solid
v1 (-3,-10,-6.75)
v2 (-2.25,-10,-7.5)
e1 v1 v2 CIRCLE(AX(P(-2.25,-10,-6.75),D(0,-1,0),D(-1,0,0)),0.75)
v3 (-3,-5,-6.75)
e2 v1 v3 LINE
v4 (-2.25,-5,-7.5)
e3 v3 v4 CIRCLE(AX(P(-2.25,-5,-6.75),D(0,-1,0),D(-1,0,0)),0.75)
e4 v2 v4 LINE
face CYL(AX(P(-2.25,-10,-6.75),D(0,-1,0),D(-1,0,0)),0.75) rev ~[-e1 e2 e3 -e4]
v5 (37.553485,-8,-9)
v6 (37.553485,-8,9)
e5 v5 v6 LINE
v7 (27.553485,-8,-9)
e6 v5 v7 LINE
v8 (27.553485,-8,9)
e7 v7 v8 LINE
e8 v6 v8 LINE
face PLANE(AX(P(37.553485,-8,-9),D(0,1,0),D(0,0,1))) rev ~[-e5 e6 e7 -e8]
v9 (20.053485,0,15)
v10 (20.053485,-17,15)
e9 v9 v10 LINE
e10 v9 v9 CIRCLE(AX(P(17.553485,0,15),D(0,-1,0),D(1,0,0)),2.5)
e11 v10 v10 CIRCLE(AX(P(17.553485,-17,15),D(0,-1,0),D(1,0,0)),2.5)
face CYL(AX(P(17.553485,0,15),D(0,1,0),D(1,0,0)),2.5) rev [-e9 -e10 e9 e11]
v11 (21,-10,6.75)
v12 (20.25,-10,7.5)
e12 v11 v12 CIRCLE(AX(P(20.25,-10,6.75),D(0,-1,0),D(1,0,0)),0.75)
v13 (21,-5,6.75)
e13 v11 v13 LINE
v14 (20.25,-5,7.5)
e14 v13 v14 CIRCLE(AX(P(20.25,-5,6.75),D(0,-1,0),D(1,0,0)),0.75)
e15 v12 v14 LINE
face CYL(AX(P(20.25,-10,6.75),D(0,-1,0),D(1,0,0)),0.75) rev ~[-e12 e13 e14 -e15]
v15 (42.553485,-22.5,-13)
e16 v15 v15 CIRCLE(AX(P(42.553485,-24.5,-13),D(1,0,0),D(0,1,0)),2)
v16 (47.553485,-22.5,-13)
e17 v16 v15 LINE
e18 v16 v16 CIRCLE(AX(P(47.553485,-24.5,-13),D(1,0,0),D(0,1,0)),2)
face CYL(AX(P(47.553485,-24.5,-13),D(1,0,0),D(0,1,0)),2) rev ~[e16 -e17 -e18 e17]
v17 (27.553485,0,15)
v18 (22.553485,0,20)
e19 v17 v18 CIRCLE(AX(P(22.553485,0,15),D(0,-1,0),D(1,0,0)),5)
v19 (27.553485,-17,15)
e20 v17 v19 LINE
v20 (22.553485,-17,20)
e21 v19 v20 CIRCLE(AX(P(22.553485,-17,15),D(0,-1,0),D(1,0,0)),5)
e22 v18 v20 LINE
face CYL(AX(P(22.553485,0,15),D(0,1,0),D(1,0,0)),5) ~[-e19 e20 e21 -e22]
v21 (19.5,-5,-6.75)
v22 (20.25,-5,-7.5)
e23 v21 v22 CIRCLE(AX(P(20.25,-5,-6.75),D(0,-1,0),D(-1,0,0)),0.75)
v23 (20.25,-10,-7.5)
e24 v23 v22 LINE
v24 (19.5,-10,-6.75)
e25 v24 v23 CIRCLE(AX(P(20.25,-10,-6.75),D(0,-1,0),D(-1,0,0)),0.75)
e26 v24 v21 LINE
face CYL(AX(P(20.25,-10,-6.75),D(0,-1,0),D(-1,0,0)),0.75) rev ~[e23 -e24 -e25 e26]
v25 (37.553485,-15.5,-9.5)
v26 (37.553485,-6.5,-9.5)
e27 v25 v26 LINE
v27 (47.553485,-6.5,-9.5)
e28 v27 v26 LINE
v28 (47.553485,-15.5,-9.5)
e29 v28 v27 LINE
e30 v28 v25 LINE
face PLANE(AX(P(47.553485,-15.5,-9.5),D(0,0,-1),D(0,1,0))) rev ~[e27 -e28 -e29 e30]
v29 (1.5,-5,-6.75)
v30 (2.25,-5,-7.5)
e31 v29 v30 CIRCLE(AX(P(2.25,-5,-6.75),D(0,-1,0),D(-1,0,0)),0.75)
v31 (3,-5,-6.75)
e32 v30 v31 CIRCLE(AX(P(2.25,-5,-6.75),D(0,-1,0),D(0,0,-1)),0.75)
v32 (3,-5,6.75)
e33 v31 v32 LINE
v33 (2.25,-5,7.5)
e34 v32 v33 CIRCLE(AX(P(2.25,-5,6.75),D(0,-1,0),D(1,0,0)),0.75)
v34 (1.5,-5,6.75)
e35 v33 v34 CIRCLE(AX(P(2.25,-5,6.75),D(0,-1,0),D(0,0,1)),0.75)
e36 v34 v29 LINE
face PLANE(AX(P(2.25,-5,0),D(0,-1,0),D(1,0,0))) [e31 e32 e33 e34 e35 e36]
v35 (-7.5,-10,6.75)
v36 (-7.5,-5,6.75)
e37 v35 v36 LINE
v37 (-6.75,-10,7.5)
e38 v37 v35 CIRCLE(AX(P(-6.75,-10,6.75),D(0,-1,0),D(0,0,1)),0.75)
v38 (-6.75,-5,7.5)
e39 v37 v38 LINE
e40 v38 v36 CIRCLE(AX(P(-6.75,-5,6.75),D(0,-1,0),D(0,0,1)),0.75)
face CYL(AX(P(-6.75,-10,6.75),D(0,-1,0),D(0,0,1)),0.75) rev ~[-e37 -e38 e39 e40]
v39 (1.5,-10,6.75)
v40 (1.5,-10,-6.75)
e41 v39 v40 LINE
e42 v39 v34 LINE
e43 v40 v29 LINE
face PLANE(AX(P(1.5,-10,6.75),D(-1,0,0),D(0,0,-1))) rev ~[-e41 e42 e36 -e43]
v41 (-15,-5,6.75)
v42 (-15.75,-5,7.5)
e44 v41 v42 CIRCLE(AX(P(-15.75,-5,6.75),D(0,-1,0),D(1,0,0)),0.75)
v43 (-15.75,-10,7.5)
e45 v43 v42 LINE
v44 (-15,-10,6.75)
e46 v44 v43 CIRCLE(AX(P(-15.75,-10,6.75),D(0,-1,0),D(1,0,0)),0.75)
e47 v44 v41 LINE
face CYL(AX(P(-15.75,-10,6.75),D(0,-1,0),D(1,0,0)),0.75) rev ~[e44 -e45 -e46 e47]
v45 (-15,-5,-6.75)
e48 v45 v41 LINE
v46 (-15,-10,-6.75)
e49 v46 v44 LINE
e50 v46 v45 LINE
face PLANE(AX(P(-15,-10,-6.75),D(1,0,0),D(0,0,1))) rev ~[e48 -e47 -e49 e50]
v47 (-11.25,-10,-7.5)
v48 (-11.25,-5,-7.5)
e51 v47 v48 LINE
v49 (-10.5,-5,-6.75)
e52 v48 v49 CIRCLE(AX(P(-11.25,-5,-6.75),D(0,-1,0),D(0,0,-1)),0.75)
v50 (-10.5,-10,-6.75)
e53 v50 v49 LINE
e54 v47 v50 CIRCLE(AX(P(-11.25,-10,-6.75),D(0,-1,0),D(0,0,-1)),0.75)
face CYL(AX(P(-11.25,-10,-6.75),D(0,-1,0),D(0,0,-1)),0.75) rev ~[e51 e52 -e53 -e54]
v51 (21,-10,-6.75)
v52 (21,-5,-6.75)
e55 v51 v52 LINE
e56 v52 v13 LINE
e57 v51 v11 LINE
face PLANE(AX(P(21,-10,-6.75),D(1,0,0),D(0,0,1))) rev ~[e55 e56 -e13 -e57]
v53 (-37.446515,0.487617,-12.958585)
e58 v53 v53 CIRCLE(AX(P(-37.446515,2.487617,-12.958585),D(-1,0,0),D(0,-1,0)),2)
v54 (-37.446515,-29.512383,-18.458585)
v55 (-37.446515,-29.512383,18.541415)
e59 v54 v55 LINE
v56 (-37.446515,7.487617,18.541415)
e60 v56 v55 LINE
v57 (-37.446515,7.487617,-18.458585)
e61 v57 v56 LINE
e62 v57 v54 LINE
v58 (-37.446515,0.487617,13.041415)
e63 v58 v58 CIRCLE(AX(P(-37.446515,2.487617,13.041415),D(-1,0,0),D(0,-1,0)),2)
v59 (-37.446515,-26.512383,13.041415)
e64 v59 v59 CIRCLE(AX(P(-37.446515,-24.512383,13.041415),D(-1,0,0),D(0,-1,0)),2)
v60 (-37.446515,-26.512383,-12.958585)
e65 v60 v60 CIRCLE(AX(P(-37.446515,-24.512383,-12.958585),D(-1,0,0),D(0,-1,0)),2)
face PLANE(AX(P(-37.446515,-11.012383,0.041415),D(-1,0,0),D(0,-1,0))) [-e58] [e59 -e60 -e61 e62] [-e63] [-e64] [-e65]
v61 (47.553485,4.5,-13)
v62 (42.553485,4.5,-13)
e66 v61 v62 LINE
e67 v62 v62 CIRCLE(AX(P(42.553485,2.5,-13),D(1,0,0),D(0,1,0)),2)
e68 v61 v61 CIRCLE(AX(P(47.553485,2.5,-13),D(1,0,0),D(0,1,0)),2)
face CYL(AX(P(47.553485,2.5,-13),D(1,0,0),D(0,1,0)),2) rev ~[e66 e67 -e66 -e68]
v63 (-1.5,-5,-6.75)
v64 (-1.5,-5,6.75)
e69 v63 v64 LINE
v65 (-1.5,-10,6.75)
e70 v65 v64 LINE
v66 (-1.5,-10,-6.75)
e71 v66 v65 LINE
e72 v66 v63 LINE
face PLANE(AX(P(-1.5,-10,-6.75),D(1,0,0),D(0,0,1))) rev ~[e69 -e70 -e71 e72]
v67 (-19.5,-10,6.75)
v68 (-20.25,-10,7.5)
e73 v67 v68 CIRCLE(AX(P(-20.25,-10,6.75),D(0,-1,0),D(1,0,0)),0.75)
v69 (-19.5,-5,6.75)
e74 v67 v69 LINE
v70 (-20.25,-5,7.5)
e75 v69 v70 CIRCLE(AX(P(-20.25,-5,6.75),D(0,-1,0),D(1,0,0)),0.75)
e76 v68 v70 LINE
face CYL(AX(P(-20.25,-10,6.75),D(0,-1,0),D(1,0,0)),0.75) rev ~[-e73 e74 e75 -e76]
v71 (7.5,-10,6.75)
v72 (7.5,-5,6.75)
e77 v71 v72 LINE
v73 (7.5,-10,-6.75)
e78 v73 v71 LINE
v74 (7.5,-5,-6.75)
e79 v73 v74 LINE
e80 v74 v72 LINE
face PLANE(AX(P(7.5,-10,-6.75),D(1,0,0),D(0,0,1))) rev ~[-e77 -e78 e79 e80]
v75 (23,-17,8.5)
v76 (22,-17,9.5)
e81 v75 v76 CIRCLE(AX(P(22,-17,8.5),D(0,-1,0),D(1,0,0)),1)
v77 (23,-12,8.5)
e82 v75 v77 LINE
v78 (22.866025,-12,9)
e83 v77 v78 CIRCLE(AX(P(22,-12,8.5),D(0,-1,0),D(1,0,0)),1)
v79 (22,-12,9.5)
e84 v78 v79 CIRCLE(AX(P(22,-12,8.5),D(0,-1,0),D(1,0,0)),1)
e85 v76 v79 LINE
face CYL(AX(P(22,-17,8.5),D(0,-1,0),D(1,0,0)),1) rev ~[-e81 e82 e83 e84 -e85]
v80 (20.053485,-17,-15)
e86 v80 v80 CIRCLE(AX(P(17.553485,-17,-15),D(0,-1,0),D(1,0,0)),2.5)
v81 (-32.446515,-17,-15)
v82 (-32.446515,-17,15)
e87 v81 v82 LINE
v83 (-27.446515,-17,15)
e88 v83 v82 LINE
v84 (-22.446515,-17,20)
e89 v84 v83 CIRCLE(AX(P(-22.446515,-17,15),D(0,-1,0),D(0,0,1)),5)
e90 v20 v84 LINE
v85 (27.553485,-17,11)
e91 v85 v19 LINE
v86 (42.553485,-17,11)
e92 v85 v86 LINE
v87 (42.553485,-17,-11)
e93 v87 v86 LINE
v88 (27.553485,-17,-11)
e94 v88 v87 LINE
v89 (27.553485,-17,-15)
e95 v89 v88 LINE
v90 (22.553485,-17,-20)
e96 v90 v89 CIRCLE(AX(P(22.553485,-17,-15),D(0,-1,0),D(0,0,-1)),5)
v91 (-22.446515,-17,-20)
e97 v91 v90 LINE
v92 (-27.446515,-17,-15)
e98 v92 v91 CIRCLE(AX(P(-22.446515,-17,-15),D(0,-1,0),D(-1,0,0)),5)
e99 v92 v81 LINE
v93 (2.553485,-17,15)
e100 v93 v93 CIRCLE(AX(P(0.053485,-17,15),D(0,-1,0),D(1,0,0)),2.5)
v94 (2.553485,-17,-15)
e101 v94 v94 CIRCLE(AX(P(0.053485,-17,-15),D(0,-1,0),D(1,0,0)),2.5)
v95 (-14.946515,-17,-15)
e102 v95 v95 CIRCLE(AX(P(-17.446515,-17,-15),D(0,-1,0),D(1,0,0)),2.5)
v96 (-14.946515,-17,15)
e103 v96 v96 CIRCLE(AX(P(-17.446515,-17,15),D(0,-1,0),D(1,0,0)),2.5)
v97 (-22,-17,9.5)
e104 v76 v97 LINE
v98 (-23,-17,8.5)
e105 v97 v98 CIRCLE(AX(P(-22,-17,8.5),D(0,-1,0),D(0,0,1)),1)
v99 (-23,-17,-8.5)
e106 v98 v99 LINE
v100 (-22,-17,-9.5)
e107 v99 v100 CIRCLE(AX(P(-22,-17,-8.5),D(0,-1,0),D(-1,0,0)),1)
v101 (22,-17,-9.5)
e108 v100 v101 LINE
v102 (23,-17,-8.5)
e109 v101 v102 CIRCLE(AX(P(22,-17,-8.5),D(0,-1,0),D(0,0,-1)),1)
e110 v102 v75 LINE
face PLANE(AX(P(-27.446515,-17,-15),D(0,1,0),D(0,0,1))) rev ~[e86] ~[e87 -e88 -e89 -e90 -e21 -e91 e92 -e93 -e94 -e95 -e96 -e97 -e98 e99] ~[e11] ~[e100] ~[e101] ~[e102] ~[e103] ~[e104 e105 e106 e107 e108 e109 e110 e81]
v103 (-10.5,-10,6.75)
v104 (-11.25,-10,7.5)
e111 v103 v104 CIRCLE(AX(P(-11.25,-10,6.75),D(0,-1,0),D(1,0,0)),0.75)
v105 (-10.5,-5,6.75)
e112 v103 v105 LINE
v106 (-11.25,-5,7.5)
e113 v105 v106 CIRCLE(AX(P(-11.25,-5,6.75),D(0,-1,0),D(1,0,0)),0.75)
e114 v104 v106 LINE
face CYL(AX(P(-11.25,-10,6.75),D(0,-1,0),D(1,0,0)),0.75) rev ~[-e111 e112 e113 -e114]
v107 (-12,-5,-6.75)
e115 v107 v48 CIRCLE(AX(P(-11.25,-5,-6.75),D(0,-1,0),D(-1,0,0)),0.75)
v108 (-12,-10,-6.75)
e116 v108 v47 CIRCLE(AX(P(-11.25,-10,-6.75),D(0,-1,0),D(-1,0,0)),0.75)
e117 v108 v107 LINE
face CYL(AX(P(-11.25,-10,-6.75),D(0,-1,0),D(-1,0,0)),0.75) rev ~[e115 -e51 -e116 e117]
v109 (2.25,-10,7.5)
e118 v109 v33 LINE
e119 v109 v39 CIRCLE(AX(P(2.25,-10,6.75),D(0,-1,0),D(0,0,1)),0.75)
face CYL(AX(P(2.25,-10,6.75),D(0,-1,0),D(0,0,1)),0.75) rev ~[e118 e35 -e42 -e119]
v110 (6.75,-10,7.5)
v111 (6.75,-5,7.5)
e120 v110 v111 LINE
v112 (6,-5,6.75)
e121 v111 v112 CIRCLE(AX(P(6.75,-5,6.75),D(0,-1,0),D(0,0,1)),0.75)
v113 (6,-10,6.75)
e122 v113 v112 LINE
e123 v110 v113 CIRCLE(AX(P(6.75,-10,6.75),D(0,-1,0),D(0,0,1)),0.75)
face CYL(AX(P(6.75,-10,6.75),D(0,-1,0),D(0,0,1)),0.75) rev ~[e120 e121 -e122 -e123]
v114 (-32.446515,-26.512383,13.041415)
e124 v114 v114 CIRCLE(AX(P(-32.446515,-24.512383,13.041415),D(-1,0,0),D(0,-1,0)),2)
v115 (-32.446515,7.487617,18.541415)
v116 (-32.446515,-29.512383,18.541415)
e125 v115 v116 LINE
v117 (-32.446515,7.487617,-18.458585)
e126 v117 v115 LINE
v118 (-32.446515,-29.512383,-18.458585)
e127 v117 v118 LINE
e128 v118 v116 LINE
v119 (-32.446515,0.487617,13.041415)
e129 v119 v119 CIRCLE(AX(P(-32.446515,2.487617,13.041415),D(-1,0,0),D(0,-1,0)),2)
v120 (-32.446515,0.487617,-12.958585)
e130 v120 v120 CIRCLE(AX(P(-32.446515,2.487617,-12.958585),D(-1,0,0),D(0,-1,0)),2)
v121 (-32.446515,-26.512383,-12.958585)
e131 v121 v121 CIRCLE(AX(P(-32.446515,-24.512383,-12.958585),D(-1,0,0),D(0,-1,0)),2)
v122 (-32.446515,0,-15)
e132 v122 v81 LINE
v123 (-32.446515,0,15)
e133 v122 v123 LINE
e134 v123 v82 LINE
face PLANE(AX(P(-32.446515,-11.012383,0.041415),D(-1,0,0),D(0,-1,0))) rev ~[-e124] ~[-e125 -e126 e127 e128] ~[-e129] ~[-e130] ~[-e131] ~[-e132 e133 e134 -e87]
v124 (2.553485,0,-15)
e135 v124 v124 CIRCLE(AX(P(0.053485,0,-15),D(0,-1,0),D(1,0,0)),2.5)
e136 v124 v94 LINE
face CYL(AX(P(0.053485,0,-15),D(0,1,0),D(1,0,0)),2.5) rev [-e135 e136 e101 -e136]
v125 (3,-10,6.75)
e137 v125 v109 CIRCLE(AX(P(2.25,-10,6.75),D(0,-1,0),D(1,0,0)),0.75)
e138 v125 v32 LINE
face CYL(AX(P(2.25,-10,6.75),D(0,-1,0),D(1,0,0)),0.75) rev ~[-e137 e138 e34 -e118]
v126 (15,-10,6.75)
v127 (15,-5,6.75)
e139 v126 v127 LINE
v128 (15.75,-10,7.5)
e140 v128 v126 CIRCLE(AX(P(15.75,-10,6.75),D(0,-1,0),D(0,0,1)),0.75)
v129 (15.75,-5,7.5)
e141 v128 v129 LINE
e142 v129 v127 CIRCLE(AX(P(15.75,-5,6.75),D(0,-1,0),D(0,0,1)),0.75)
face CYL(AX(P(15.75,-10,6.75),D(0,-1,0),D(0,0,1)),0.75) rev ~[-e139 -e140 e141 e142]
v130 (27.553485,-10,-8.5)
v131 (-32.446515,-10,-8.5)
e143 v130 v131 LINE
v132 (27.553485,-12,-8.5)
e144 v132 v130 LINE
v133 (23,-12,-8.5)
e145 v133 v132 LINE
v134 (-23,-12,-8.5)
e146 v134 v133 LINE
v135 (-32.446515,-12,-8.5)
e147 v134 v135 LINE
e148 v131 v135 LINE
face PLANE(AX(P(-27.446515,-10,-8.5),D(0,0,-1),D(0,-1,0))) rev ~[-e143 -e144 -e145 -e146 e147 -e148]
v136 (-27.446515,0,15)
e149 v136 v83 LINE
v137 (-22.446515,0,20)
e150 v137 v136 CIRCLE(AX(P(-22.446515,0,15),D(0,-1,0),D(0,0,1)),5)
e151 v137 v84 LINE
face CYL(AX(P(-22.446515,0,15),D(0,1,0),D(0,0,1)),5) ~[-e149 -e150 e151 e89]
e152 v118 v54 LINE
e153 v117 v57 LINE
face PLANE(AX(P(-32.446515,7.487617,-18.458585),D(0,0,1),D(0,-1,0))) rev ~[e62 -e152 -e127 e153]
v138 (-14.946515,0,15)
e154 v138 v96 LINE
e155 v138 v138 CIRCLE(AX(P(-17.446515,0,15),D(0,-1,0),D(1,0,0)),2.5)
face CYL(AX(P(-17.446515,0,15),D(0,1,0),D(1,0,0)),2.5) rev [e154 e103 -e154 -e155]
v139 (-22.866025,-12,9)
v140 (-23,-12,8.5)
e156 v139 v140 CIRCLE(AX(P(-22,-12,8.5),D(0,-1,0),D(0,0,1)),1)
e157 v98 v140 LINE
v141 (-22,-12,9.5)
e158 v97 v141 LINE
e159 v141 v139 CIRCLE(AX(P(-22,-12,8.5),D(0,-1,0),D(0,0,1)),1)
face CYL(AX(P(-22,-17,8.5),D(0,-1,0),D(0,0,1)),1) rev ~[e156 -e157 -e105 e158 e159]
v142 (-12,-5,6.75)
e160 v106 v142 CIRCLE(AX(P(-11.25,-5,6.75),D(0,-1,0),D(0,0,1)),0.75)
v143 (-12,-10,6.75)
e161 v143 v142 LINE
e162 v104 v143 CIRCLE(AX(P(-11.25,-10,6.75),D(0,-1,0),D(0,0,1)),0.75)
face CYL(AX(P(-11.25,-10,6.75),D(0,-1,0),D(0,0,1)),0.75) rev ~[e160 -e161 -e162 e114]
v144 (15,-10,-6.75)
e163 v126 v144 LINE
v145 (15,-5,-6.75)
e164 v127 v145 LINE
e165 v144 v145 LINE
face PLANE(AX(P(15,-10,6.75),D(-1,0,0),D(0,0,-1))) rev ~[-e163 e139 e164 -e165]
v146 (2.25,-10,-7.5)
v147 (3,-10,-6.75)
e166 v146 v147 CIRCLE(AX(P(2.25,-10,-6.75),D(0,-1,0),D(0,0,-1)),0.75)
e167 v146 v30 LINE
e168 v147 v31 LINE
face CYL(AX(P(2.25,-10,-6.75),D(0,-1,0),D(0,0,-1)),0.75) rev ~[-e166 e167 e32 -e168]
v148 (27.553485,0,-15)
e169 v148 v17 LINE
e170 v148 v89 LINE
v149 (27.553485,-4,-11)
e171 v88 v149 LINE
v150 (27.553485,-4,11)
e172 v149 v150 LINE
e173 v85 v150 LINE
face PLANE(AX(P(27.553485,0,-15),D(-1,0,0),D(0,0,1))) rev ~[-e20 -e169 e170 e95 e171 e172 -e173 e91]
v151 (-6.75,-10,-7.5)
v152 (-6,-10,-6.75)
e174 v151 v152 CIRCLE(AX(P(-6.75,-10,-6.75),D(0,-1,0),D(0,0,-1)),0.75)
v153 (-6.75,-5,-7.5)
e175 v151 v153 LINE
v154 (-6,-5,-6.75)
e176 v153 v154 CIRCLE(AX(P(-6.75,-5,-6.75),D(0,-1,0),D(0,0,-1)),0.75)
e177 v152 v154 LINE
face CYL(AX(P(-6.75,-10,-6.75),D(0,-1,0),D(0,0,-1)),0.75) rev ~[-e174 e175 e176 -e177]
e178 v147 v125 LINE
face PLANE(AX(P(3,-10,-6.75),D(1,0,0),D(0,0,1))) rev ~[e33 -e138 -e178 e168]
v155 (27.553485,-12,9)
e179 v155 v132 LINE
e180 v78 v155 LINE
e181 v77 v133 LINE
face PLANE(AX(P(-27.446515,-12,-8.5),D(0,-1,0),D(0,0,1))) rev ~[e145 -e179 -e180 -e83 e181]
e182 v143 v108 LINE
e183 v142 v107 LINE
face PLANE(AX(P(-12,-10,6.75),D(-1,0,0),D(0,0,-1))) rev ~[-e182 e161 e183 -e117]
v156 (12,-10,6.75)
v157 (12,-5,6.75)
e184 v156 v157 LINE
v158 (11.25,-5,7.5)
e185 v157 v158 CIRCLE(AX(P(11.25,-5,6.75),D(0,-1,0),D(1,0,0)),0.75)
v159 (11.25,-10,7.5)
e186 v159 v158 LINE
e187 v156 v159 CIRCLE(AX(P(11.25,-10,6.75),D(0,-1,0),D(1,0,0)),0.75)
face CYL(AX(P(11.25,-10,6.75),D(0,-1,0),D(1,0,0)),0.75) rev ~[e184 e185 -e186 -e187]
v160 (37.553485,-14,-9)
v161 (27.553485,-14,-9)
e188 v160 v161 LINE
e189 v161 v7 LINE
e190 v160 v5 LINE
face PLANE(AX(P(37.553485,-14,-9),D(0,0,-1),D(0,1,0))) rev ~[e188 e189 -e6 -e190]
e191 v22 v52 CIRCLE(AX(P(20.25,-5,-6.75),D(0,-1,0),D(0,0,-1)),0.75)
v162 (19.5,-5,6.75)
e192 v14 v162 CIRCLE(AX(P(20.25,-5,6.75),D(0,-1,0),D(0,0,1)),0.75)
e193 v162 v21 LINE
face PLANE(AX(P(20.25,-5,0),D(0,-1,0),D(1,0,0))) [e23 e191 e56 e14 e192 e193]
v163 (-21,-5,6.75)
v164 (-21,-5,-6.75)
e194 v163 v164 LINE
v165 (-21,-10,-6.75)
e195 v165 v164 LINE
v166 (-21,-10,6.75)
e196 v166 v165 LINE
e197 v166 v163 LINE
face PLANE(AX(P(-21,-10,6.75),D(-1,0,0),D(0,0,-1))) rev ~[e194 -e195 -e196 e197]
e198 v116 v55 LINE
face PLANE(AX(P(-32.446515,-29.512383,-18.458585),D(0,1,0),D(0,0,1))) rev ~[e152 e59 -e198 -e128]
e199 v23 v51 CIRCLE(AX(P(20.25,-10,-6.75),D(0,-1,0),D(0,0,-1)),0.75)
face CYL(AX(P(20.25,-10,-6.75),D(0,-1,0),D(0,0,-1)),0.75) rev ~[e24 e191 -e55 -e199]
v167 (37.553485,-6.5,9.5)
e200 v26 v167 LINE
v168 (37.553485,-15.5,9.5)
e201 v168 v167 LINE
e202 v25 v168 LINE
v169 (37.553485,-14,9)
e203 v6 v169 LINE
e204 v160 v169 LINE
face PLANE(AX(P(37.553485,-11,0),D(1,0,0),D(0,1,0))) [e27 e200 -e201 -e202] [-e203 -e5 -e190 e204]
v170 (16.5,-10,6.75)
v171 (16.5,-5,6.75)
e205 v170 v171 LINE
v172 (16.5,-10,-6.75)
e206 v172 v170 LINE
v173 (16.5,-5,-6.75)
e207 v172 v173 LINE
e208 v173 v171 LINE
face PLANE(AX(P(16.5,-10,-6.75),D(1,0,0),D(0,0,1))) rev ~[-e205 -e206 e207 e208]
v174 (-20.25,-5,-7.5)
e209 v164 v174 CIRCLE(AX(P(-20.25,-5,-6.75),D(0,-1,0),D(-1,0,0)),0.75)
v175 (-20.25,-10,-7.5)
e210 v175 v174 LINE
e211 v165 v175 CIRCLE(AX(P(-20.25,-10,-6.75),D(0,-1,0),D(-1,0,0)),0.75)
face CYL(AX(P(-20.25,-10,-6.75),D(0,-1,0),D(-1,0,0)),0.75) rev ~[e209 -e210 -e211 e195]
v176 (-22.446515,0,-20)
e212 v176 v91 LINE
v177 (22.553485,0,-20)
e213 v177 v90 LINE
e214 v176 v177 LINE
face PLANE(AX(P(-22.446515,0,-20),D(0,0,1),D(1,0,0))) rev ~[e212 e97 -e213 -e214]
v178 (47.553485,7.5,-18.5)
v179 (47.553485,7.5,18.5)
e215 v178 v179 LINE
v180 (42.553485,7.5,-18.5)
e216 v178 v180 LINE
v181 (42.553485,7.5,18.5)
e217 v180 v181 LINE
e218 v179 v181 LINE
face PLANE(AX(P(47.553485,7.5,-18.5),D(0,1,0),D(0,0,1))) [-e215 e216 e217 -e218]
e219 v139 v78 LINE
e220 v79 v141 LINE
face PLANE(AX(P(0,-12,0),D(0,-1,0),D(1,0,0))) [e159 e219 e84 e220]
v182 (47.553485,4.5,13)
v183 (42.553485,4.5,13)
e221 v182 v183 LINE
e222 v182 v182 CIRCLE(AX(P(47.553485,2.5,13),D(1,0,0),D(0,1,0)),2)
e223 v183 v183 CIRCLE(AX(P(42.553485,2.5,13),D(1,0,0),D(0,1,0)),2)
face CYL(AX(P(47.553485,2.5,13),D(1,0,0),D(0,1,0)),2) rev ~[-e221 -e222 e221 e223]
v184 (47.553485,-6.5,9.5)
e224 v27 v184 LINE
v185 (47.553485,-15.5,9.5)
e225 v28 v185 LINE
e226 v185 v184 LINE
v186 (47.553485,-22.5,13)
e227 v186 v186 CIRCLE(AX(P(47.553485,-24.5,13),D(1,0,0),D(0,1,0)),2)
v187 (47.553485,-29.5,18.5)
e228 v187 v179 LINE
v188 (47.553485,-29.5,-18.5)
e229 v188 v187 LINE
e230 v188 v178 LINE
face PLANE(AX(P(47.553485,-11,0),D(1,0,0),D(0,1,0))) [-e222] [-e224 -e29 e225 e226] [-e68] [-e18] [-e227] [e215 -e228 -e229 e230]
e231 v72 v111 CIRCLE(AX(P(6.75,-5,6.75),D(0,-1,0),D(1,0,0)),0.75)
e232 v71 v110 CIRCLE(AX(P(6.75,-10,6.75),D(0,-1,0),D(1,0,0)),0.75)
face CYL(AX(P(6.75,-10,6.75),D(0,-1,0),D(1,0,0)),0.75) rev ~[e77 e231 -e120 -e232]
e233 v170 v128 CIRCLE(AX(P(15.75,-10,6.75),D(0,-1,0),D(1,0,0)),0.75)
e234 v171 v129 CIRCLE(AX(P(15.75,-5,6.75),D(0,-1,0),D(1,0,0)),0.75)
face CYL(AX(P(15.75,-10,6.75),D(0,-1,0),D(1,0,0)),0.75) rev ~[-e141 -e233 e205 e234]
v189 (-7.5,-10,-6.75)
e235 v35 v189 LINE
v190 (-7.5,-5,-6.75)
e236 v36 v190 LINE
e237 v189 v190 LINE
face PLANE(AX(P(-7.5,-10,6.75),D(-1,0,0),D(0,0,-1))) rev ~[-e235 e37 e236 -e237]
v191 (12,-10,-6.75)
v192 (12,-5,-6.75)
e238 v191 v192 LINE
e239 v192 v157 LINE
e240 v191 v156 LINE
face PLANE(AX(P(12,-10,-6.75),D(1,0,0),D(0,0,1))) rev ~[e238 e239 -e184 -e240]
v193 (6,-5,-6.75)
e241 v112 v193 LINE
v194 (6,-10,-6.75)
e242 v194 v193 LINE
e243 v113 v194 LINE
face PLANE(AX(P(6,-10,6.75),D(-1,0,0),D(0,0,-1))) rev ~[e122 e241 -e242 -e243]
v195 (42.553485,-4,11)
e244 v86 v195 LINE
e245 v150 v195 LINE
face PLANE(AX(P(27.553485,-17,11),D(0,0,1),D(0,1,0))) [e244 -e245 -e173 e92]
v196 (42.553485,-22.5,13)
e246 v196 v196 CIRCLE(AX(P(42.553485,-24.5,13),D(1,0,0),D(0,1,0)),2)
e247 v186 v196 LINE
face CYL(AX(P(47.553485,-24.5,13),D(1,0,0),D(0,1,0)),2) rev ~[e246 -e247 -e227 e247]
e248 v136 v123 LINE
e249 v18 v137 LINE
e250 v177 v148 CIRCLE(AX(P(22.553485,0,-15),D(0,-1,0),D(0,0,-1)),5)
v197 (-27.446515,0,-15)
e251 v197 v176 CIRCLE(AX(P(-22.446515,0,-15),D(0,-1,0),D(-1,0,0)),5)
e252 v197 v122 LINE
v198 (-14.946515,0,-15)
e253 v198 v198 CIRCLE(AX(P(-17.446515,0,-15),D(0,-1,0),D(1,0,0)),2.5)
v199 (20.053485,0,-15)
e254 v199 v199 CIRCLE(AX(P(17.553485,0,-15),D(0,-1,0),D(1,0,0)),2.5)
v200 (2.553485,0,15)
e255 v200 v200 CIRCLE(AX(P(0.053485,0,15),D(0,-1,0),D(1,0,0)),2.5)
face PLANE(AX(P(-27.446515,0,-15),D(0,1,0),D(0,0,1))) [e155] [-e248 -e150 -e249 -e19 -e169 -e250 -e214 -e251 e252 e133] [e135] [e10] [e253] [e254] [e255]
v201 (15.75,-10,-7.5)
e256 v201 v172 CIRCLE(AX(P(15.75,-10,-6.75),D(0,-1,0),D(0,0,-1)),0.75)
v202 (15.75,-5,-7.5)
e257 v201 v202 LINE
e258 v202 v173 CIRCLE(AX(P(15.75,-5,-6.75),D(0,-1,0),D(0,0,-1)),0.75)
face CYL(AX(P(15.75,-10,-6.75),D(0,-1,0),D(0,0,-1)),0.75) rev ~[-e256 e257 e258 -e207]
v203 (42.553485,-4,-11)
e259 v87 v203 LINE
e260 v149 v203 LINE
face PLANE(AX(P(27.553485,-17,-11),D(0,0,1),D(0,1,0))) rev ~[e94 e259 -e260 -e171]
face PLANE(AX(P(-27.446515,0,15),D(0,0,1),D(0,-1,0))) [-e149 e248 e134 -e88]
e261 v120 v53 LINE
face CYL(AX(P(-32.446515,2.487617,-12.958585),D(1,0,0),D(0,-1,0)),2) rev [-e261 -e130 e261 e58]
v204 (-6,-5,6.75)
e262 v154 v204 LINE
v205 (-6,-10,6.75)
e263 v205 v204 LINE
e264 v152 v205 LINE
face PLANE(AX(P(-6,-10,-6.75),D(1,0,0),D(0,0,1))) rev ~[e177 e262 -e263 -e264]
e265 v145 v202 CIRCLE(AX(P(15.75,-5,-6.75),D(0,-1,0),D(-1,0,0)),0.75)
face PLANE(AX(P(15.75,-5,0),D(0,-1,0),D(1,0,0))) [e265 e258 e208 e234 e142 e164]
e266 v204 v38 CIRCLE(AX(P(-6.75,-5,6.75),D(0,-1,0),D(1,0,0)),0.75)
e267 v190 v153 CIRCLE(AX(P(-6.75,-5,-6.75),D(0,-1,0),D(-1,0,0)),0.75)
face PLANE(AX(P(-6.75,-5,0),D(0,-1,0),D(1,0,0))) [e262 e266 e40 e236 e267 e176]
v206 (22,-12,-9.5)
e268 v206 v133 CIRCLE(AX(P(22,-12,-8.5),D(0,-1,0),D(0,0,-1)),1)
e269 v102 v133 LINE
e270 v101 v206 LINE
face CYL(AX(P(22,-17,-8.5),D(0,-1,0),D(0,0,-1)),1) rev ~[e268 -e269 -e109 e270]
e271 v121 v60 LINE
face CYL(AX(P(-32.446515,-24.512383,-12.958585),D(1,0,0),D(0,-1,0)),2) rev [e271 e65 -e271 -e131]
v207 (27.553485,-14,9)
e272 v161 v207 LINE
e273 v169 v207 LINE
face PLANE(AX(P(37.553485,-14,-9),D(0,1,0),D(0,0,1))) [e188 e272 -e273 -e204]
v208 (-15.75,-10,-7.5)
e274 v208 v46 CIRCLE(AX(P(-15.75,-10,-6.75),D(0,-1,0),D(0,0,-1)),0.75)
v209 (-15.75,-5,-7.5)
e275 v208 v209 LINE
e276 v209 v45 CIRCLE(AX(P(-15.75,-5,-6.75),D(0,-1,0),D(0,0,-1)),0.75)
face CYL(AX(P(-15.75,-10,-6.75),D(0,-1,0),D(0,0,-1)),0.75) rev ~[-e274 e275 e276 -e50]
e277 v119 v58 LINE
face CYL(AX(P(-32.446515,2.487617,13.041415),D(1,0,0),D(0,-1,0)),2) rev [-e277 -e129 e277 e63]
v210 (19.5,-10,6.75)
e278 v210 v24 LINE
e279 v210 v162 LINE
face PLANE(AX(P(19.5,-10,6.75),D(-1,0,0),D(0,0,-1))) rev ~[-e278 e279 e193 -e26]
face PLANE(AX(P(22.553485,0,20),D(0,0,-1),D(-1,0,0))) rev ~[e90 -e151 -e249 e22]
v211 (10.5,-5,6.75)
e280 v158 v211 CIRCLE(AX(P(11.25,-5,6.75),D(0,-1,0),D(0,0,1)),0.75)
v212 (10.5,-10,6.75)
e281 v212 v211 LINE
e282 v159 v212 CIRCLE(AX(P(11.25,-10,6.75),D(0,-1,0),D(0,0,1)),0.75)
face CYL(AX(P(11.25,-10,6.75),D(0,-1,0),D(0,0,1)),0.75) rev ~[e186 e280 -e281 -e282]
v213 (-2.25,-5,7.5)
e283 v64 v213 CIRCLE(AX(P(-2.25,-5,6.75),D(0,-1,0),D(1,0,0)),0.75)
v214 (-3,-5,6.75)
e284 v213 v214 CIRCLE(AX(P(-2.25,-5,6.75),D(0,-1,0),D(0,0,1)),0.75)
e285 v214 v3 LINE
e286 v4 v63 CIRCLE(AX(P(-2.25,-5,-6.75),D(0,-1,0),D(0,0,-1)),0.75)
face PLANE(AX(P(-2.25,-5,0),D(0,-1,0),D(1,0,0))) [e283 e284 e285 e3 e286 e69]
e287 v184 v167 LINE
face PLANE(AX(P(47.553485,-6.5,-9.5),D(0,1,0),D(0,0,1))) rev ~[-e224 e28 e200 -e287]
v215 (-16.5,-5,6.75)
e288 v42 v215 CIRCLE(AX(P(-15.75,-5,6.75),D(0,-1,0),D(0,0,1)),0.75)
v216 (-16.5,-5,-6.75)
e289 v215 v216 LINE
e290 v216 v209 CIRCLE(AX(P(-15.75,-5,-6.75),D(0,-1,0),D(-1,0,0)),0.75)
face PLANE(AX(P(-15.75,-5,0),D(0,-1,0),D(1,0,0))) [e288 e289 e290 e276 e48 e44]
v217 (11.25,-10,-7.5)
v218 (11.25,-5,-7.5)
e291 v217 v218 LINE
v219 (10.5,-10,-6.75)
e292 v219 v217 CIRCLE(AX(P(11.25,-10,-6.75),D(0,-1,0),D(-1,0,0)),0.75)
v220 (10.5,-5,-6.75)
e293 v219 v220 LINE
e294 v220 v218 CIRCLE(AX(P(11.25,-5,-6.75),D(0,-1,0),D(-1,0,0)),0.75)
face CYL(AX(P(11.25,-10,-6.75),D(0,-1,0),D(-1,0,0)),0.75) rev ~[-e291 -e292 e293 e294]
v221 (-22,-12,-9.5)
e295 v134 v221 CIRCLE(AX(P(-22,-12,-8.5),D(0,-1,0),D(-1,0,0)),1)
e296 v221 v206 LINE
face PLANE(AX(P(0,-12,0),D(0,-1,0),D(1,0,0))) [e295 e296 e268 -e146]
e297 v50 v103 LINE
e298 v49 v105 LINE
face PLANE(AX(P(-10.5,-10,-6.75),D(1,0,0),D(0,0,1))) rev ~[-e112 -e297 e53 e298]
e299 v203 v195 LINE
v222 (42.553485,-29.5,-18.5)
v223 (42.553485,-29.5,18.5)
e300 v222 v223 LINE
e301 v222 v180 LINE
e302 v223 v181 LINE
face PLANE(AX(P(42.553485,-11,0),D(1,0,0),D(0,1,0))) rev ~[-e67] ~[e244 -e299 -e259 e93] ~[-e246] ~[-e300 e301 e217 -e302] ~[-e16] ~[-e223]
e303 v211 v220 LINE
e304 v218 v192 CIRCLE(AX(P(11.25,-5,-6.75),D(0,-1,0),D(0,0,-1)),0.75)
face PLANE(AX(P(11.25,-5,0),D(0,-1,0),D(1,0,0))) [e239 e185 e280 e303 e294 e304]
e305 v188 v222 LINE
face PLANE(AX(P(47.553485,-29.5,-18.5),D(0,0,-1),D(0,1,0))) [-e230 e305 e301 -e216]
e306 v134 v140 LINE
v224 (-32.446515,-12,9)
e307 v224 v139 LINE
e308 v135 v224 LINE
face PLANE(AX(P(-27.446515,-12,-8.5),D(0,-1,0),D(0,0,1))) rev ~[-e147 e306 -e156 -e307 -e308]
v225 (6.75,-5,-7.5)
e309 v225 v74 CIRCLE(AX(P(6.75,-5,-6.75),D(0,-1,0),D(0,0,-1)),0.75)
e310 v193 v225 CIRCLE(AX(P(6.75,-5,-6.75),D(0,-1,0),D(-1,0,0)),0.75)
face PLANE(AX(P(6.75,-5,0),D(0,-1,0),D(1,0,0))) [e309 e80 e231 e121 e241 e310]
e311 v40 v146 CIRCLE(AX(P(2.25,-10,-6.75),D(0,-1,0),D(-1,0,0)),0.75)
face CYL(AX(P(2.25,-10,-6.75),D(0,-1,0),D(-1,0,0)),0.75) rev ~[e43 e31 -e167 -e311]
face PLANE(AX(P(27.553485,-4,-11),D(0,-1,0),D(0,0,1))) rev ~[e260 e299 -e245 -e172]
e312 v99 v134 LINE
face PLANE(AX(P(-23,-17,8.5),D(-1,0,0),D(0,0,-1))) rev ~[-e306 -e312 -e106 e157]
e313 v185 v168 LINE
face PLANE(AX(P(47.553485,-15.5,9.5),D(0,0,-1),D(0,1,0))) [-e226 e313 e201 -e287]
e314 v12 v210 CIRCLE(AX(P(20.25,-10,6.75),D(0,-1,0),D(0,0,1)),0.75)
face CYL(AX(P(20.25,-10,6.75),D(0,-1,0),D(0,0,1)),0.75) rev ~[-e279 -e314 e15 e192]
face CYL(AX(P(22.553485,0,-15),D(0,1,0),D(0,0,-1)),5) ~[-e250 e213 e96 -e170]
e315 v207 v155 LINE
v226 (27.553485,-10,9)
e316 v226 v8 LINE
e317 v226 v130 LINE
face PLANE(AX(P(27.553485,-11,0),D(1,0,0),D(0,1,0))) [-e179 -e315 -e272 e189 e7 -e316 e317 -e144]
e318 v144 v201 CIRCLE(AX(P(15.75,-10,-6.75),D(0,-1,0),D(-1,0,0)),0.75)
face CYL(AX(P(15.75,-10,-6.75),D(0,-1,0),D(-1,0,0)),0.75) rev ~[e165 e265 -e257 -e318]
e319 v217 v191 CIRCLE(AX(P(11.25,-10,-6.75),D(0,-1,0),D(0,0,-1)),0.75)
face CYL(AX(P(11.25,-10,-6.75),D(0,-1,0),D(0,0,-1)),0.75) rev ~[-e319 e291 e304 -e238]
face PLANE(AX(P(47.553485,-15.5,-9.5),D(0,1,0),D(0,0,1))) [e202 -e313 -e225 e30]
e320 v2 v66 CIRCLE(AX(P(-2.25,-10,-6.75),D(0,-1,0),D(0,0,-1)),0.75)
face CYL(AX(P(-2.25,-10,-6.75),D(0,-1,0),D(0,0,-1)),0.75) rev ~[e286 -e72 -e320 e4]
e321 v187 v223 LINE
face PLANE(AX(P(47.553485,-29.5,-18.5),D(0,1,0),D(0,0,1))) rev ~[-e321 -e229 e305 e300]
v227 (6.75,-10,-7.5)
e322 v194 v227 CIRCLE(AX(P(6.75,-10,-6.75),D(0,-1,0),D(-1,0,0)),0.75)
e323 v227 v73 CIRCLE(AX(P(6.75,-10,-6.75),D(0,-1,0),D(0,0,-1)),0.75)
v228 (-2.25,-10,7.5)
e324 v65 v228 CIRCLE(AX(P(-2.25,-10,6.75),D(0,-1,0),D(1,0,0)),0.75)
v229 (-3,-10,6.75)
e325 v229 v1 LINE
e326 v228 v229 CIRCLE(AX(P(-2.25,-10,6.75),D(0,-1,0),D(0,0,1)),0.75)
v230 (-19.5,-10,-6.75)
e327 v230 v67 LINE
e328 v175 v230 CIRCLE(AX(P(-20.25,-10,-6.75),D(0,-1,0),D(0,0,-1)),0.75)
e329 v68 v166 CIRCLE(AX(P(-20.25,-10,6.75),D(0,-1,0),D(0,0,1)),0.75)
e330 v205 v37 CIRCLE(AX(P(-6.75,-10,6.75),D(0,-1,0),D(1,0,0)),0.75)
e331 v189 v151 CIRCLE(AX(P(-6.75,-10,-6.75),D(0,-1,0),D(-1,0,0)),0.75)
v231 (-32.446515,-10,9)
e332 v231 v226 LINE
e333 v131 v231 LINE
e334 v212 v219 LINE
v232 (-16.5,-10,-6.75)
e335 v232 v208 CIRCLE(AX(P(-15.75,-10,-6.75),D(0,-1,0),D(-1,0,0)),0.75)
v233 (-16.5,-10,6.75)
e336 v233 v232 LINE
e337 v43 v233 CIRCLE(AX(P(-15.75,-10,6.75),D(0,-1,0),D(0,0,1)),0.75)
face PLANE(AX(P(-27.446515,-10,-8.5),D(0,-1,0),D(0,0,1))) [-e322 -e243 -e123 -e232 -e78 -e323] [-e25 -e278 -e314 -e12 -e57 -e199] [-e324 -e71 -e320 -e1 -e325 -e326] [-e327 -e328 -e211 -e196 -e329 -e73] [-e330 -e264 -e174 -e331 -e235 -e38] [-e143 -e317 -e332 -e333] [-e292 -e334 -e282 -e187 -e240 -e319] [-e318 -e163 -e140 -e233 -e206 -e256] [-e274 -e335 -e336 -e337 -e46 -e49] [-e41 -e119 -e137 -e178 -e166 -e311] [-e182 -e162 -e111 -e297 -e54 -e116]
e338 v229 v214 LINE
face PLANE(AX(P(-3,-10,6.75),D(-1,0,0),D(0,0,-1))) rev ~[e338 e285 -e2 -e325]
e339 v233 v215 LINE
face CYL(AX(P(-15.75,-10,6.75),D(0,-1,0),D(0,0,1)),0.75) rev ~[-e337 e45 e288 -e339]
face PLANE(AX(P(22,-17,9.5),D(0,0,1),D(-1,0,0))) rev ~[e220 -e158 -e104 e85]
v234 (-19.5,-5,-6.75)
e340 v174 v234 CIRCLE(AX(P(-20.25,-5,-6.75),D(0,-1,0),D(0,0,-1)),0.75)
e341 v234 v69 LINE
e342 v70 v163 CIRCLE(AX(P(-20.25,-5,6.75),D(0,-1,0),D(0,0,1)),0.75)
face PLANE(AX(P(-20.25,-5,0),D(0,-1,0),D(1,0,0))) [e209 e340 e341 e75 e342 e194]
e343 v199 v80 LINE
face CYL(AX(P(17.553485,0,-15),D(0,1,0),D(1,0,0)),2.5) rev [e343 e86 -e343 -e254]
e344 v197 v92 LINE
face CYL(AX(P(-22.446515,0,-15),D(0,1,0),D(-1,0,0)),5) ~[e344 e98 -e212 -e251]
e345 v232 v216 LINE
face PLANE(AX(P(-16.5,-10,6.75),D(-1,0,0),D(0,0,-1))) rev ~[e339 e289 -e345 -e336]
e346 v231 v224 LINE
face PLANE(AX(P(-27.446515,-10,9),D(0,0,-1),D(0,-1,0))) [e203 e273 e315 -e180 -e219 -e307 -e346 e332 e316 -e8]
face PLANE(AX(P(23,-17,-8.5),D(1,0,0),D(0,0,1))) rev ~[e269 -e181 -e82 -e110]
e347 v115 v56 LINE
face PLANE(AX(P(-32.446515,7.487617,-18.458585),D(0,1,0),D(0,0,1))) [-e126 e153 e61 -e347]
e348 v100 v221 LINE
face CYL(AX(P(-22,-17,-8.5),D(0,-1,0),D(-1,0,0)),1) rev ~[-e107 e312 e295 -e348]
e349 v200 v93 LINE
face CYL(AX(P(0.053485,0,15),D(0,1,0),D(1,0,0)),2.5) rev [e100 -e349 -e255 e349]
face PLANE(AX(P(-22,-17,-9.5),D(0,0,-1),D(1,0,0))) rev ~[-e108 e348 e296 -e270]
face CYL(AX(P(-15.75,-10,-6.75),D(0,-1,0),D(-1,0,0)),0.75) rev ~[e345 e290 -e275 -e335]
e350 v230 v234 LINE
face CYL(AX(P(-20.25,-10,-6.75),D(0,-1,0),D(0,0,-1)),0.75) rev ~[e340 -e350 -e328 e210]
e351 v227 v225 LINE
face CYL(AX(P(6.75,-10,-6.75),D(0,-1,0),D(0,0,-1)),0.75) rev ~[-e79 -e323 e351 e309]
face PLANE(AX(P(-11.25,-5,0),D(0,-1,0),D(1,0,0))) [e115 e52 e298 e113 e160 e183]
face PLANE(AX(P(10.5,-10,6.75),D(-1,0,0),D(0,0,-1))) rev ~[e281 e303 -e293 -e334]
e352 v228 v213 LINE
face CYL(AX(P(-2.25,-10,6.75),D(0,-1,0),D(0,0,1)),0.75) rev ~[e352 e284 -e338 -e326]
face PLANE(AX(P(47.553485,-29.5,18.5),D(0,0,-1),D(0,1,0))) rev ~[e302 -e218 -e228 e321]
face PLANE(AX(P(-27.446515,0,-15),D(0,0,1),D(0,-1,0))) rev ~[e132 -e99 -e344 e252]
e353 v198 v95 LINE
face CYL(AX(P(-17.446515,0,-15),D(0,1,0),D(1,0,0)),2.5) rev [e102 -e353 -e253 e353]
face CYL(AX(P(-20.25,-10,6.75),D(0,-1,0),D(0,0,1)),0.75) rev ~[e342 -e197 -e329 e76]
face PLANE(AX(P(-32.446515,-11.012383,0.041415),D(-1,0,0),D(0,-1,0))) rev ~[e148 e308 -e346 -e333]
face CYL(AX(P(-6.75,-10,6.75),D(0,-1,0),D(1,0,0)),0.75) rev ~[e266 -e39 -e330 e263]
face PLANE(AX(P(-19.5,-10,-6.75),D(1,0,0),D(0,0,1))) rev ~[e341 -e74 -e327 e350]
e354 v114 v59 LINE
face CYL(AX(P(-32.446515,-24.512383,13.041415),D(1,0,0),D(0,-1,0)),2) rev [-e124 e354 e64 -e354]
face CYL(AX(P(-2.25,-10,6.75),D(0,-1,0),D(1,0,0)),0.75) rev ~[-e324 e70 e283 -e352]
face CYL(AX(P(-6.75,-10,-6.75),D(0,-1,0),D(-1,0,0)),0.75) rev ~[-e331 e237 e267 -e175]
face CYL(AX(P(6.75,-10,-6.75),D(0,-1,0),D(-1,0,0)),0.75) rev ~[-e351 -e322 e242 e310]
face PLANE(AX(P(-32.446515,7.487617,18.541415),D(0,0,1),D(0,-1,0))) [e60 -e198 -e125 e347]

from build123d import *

# Parameters (mm, degrees)
F0_R      = 2.5
F1_DEPTH  = 17
F3_DEPTH  = 5
F4_W      = 46
F4_H      = 17
F5_DEPTH  = 2
F7_DEPTH  = 5
F9_W      = 13
F9_H      = 22
F10_DEPTH = 20
F11_W     = 37
F11_H     = 37
F11_R     = 2
F11_W_2   = 13
F11_H_2   = 22
F12_DEPTH = 5
F13_W     = 9
F13_H     = 19
F14_DEPTH = 10
F15_W     = 6
F15_H     = 18
F16_DEPTH = 10
F8_W      = 17
F8_H      = 30
F8_W_2    = 2
F8_H_2    = 17.5
F17_DEPTH = 5
F18_W     = 37
F18_H     = 37
F18_R     = 2
F19_DEPTH = 5
F20_DEPTH = 75.001


with BuildPart() as f1:
    # F0 (on Front) → F1 (new body)
    with BuildSketch(Plane.XZ):
        with BuildLine():
            Line((-22.4465147161, -20), (22.5534852839, -20))
            ThreePointArc((22.5534852839, -20), (26.0890191899, -18.5355339059), (27.5534852839, -15))
            Line((27.5534852839, -15), (27.5534852839, 15))
            ThreePointArc((27.5534852839, 15), (26.0890191899, 18.5355339059), (22.5534852839, 20))
            Line((22.5534852839, 20), (-22.4465147161, 20))
            ThreePointArc((-22.4465147161, 20), (-25.982048622, 18.5355339059), (-27.4465147161, 15))
            Line((-27.4465147161, 15), (-27.4465147161, -15))
            ThreePointArc((-27.4465147161, -15), (-25.982048622, -18.5355339059), (-22.4465147161, -20))
        make_face()
        with Locations((-17.4465147161, -15)):
            Circle(F0_R, mode=Mode.SUBTRACT)
        with Locations((0.0534852839, -15)):
            Circle(F0_R, mode=Mode.SUBTRACT)
        with Locations((17.5534852839, -15)):
            Circle(F0_R, mode=Mode.SUBTRACT)
        with Locations((-17.4465147161, 15)):
            Circle(F0_R, mode=Mode.SUBTRACT)
        with Locations((0.0534852839, 15)):
            Circle(F0_R, mode=Mode.SUBTRACT)
        with Locations((17.5534852839, 15)):
            Circle(F0_R, mode=Mode.SUBTRACT)
    extrude(amount=F1_DEPTH)

    # F2 (on face) → F3 (cut)
    with BuildSketch(Plane.XZ.offset(17)):
        with BuildLine():
            Line((22, 9.5), (-22, 9.5))
            ThreePointArc((-22, 9.5), (-22.7071067812, 9.2071067812), (-23, 8.5))
            Line((-23, 8.5), (-23, -8.5))
            ThreePointArc((-23, -8.5), (-22.7071067812, -9.2071067812), (-22, -9.5))
            Line((-22, -9.5), (22, -9.5))
            ThreePointArc((22, -9.5), (22.7071067812, -9.2071067812), (23, -8.5))
            Line((23, -8.5), (23, 8.5))
            ThreePointArc((23, 8.5), (22.7071067812, 9.2071067812), (22, 9.5))
        make_face()
    extrude(amount=-F3_DEPTH, mode=Mode.SUBTRACT)

    # F4 (on face) → F5 (cut)
    with BuildSketch(Plane.XZ.offset(12)):
        Rectangle(F4_W, F4_H)
    extrude(amount=-F5_DEPTH, mode=Mode.SUBTRACT)

    # F6 (on face) → F7 (cut)
    with BuildSketch(Plane.XZ.offset(10)):
        with BuildLine():
            ThreePointArc((-20.25, 7.5), (-20.7803300859, 7.2803300859), (-21, 6.75))
            Line((-21, 6.75), (-21, -6.75))
            ThreePointArc((-21, -6.75), (-20.7803300859, -7.2803300859), (-20.25, -7.5))
            ThreePointArc((-20.25, -7.5), (-19.7196699141, -7.2803300859), (-19.5, -6.75))
            Line((-19.5, -6.75), (-19.5, 6.75))
            ThreePointArc((-19.5, 6.75), (-19.7196699141, 7.2803300859), (-20.25, 7.5))
        make_face()
        with BuildLine():
            ThreePointArc((-15.75, 7.5), (-16.2803300859, 7.2803300859), (-16.5, 6.75))
            Line((-16.5, 6.75), (-16.5, -6.75))
            ThreePointArc((-16.5, -6.75), (-16.2803300859, -7.2803300859), (-15.75, -7.5))
            ThreePointArc((-15.75, -7.5), (-15.2196699141, -7.2803300859), (-15, -6.75))
            Line((-15, -6.75), (-15, 6.75))
            ThreePointArc((-15, 6.75), (-15.2196699141, 7.2803300859), (-15.75, 7.5))
        make_face()
        with BuildLine():
            ThreePointArc((-11.25, 7.5), (-11.7803300859, 7.2803300859), (-12, 6.75))
            Line((-12, 6.75), (-12, -6.75))
            ThreePointArc((-12, -6.75), (-11.7803300859, -7.2803300859), (-11.25, -7.5))
            ThreePointArc((-11.25, -7.5), (-10.7196699141, -7.2803300859), (-10.5, -6.75))
            Line((-10.5, -6.75), (-10.5, 6.75))
            ThreePointArc((-10.5, 6.75), (-10.7196699141, 7.2803300859), (-11.25, 7.5))
        make_face()
        with BuildLine():
            ThreePointArc((-6.75, 7.5), (-7.2803300859, 7.2803300859), (-7.5, 6.75))
            Line((-7.5, 6.75), (-7.5, -6.75))
            ThreePointArc((-7.5, -6.75), (-7.2803300859, -7.2803300859), (-6.75, -7.5))
            ThreePointArc((-6.75, -7.5), (-6.2196699141, -7.2803300859), (-6, -6.75))
            Line((-6, -6.75), (-6, 6.75))
            ThreePointArc((-6, 6.75), (-6.2196699141, 7.2803300859), (-6.75, 7.5))
        make_face()
        with BuildLine():
            ThreePointArc((-2.25, 7.5), (-2.7803300859, 7.2803300859), (-3, 6.75))
            Line((-3, 6.75), (-3, -6.75))
            ThreePointArc((-3, -6.75), (-2.7803300859, -7.2803300859), (-2.25, -7.5))
            ThreePointArc((-2.25, -7.5), (-1.7196699141, -7.2803300859), (-1.5, -6.75))
            Line((-1.5, -6.75), (-1.5, 6.75))
            ThreePointArc((-1.5, 6.75), (-1.7196699141, 7.2803300859), (-2.25, 7.5))
        make_face()
        with BuildLine():
            ThreePointArc((2.25, 7.5), (1.7196699141, 7.2803300859), (1.5, 6.75))
            Line((1.5, 6.75), (1.5, -6.75))
            ThreePointArc((1.5, -6.75), (1.7196699141, -7.2803300859), (2.25, -7.5))
            ThreePointArc((2.25, -7.5), (2.7803300859, -7.2803300859), (3, -6.75))
            Line((3, -6.75), (3, 6.75))
            ThreePointArc((3, 6.75), (2.7803300859, 7.2803300859), (2.25, 7.5))
        make_face()
        with BuildLine():
            ThreePointArc((6.75, 7.5), (6.2196699141, 7.2803300859), (6, 6.75))
            Line((6, 6.75), (6, -6.75))
            ThreePointArc((6, -6.75), (6.2196699141, -7.2803300859), (6.75, -7.5))
            ThreePointArc((6.75, -7.5), (7.2803300859, -7.2803300859), (7.5, -6.75))
            Line((7.5, -6.75), (7.5, 6.75))
            ThreePointArc((7.5, 6.75), (7.2803300859, 7.2803300859), (6.75, 7.5))
        make_face()
        with BuildLine():
            ThreePointArc((11.25, 7.5), (10.7196699141, 7.2803300859), (10.5, 6.75))
            Line((10.5, 6.75), (10.5, -6.75))
            ThreePointArc((10.5, -6.75), (10.7196699141, -7.2803300859), (11.25, -7.5))
            ThreePointArc((11.25, -7.5), (11.7803300859, -7.2803300859), (12, -6.75))
            Line((12, -6.75), (12, 6.75))
            ThreePointArc((12, 6.75), (11.7803300859, 7.2803300859), (11.25, 7.5))
        make_face()
        with BuildLine():
            ThreePointArc((15.75, 7.5), (15.2196699141, 7.2803300859), (15, 6.75))
            Line((15, 6.75), (15, -6.75))
            ThreePointArc((15, -6.75), (15.2196699141, -7.2803300859), (15.75, -7.5))
            ThreePointArc((15.75, -7.5), (16.2803300859, -7.2803300859), (16.5, -6.75))
            Line((16.5, -6.75), (16.5, 6.75))
            ThreePointArc((16.5, 6.75), (16.2803300859, 7.2803300859), (15.75, 7.5))
        make_face()
        with BuildLine():
            ThreePointArc((20.25, 7.5), (19.7196699141, 7.2803300859), (19.5, 6.75))
            Line((19.5, 6.75), (19.5, -6.75))
            ThreePointArc((19.5, -6.75), (19.7196699141, -7.2803300859), (20.25, -7.5))
            ThreePointArc((20.25, -7.5), (20.7803300859, -7.2803300859), (21, -6.75))
            Line((21, -6.75), (21, 6.75))
            ThreePointArc((21, 6.75), (20.7803300859, 7.2803300859), (20.25, 7.5))
        make_face()
    extrude(amount=-F7_DEPTH, mode=Mode.SUBTRACT)

    # F9 (on face) → F10 (join)
    with BuildSketch(Plane.YZ.offset(27.5534852839)):
        with Locations((-10.5, 0)):
            Rectangle(F9_W, F9_H)
    extrude(amount=F10_DEPTH)

    # F11 (on face) → F12 (join)
    with BuildSketch(Plane.YZ.offset(47.5534852839)):
        with Locations((-11, 0)):
            Rectangle(F11_W, F11_H)
        with Locations((-24.5, -13)):
            Circle(F11_R, mode=Mode.SUBTRACT)
        with Locations((2.5, -13)):
            Circle(F11_R, mode=Mode.SUBTRACT)
        with Locations((-24.5, 13)):
            Circle(F11_R, mode=Mode.SUBTRACT)
        with Locations((-10.5, 0)):
            Rectangle(F11_W_2, F11_H_2, mode=Mode.SUBTRACT)
        with Locations((2.5, 13)):
            Circle(F11_R, mode=Mode.SUBTRACT)
    extrude(amount=-F12_DEPTH)

    # F13 (on face) → F14 (cut)
    with BuildSketch(Plane.YZ.offset(47.5534852839)):
        with Locations((-11, 0)):
            Rectangle(F13_W, F13_H)
    extrude(amount=-F14_DEPTH, mode=Mode.SUBTRACT)

    # F15 (on face) → F16 (cut)
    with BuildSketch(Plane.YZ.offset(37.5534852839)):
        with Locations((-11, 0)):
            Rectangle(F15_W, F15_H)
    extrude(amount=-F16_DEPTH, mode=Mode.SUBTRACT)

    # F8 (on face) → F17 (join)
    with BuildSketch(Plane(origin=(-27.4465147161, 0, 0), x_dir=(0, -1, 0), z_dir=(-1, 0, 0))):
        with Locations((8.5, 0)):
            Rectangle(F8_W, F8_H)
        with Locations((11, 0.25)):
            Rectangle(F8_W_2, F8_H_2, mode=Mode.SUBTRACT)
    extrude(amount=F17_DEPTH)

    # F18 (on face) → F19 (join)
    with BuildSketch(Plane(origin=(-32.4465147161, 0, 0), x_dir=(0, -1, 0), z_dir=(-1, 0, 0))):
        with Locations((11.0123828505, 0.0414154201)):
            Rectangle(F18_W, F18_H)
        with Locations((-2.4876171495, -12.9585845799)):
            Circle(F18_R, mode=Mode.SUBTRACT)
        with Locations((24.5123828505, -12.9585845799)):
            Circle(F18_R, mode=Mode.SUBTRACT)
        with Locations((-2.4876171495, 13.0414154201)):
            Circle(F18_R, mode=Mode.SUBTRACT)
        with Locations((24.5123828505, 13.0414154201)):
            Circle(F18_R, mode=Mode.SUBTRACT)
    extrude(amount=F19_DEPTH)

    # F8 (on face) → F20 (cut, through all)
    with BuildSketch(Plane(origin=(-27.4465147161, 0, 0), x_dir=(0, -1, 0), z_dir=(-1, 0, 0))):
        with Locations((11, 0.25)):
            Rectangle(F8_W_2, F8_H_2)
    extrude(amount=-F20_DEPTH, mode=Mode.SUBTRACT)


solid = f1.part
